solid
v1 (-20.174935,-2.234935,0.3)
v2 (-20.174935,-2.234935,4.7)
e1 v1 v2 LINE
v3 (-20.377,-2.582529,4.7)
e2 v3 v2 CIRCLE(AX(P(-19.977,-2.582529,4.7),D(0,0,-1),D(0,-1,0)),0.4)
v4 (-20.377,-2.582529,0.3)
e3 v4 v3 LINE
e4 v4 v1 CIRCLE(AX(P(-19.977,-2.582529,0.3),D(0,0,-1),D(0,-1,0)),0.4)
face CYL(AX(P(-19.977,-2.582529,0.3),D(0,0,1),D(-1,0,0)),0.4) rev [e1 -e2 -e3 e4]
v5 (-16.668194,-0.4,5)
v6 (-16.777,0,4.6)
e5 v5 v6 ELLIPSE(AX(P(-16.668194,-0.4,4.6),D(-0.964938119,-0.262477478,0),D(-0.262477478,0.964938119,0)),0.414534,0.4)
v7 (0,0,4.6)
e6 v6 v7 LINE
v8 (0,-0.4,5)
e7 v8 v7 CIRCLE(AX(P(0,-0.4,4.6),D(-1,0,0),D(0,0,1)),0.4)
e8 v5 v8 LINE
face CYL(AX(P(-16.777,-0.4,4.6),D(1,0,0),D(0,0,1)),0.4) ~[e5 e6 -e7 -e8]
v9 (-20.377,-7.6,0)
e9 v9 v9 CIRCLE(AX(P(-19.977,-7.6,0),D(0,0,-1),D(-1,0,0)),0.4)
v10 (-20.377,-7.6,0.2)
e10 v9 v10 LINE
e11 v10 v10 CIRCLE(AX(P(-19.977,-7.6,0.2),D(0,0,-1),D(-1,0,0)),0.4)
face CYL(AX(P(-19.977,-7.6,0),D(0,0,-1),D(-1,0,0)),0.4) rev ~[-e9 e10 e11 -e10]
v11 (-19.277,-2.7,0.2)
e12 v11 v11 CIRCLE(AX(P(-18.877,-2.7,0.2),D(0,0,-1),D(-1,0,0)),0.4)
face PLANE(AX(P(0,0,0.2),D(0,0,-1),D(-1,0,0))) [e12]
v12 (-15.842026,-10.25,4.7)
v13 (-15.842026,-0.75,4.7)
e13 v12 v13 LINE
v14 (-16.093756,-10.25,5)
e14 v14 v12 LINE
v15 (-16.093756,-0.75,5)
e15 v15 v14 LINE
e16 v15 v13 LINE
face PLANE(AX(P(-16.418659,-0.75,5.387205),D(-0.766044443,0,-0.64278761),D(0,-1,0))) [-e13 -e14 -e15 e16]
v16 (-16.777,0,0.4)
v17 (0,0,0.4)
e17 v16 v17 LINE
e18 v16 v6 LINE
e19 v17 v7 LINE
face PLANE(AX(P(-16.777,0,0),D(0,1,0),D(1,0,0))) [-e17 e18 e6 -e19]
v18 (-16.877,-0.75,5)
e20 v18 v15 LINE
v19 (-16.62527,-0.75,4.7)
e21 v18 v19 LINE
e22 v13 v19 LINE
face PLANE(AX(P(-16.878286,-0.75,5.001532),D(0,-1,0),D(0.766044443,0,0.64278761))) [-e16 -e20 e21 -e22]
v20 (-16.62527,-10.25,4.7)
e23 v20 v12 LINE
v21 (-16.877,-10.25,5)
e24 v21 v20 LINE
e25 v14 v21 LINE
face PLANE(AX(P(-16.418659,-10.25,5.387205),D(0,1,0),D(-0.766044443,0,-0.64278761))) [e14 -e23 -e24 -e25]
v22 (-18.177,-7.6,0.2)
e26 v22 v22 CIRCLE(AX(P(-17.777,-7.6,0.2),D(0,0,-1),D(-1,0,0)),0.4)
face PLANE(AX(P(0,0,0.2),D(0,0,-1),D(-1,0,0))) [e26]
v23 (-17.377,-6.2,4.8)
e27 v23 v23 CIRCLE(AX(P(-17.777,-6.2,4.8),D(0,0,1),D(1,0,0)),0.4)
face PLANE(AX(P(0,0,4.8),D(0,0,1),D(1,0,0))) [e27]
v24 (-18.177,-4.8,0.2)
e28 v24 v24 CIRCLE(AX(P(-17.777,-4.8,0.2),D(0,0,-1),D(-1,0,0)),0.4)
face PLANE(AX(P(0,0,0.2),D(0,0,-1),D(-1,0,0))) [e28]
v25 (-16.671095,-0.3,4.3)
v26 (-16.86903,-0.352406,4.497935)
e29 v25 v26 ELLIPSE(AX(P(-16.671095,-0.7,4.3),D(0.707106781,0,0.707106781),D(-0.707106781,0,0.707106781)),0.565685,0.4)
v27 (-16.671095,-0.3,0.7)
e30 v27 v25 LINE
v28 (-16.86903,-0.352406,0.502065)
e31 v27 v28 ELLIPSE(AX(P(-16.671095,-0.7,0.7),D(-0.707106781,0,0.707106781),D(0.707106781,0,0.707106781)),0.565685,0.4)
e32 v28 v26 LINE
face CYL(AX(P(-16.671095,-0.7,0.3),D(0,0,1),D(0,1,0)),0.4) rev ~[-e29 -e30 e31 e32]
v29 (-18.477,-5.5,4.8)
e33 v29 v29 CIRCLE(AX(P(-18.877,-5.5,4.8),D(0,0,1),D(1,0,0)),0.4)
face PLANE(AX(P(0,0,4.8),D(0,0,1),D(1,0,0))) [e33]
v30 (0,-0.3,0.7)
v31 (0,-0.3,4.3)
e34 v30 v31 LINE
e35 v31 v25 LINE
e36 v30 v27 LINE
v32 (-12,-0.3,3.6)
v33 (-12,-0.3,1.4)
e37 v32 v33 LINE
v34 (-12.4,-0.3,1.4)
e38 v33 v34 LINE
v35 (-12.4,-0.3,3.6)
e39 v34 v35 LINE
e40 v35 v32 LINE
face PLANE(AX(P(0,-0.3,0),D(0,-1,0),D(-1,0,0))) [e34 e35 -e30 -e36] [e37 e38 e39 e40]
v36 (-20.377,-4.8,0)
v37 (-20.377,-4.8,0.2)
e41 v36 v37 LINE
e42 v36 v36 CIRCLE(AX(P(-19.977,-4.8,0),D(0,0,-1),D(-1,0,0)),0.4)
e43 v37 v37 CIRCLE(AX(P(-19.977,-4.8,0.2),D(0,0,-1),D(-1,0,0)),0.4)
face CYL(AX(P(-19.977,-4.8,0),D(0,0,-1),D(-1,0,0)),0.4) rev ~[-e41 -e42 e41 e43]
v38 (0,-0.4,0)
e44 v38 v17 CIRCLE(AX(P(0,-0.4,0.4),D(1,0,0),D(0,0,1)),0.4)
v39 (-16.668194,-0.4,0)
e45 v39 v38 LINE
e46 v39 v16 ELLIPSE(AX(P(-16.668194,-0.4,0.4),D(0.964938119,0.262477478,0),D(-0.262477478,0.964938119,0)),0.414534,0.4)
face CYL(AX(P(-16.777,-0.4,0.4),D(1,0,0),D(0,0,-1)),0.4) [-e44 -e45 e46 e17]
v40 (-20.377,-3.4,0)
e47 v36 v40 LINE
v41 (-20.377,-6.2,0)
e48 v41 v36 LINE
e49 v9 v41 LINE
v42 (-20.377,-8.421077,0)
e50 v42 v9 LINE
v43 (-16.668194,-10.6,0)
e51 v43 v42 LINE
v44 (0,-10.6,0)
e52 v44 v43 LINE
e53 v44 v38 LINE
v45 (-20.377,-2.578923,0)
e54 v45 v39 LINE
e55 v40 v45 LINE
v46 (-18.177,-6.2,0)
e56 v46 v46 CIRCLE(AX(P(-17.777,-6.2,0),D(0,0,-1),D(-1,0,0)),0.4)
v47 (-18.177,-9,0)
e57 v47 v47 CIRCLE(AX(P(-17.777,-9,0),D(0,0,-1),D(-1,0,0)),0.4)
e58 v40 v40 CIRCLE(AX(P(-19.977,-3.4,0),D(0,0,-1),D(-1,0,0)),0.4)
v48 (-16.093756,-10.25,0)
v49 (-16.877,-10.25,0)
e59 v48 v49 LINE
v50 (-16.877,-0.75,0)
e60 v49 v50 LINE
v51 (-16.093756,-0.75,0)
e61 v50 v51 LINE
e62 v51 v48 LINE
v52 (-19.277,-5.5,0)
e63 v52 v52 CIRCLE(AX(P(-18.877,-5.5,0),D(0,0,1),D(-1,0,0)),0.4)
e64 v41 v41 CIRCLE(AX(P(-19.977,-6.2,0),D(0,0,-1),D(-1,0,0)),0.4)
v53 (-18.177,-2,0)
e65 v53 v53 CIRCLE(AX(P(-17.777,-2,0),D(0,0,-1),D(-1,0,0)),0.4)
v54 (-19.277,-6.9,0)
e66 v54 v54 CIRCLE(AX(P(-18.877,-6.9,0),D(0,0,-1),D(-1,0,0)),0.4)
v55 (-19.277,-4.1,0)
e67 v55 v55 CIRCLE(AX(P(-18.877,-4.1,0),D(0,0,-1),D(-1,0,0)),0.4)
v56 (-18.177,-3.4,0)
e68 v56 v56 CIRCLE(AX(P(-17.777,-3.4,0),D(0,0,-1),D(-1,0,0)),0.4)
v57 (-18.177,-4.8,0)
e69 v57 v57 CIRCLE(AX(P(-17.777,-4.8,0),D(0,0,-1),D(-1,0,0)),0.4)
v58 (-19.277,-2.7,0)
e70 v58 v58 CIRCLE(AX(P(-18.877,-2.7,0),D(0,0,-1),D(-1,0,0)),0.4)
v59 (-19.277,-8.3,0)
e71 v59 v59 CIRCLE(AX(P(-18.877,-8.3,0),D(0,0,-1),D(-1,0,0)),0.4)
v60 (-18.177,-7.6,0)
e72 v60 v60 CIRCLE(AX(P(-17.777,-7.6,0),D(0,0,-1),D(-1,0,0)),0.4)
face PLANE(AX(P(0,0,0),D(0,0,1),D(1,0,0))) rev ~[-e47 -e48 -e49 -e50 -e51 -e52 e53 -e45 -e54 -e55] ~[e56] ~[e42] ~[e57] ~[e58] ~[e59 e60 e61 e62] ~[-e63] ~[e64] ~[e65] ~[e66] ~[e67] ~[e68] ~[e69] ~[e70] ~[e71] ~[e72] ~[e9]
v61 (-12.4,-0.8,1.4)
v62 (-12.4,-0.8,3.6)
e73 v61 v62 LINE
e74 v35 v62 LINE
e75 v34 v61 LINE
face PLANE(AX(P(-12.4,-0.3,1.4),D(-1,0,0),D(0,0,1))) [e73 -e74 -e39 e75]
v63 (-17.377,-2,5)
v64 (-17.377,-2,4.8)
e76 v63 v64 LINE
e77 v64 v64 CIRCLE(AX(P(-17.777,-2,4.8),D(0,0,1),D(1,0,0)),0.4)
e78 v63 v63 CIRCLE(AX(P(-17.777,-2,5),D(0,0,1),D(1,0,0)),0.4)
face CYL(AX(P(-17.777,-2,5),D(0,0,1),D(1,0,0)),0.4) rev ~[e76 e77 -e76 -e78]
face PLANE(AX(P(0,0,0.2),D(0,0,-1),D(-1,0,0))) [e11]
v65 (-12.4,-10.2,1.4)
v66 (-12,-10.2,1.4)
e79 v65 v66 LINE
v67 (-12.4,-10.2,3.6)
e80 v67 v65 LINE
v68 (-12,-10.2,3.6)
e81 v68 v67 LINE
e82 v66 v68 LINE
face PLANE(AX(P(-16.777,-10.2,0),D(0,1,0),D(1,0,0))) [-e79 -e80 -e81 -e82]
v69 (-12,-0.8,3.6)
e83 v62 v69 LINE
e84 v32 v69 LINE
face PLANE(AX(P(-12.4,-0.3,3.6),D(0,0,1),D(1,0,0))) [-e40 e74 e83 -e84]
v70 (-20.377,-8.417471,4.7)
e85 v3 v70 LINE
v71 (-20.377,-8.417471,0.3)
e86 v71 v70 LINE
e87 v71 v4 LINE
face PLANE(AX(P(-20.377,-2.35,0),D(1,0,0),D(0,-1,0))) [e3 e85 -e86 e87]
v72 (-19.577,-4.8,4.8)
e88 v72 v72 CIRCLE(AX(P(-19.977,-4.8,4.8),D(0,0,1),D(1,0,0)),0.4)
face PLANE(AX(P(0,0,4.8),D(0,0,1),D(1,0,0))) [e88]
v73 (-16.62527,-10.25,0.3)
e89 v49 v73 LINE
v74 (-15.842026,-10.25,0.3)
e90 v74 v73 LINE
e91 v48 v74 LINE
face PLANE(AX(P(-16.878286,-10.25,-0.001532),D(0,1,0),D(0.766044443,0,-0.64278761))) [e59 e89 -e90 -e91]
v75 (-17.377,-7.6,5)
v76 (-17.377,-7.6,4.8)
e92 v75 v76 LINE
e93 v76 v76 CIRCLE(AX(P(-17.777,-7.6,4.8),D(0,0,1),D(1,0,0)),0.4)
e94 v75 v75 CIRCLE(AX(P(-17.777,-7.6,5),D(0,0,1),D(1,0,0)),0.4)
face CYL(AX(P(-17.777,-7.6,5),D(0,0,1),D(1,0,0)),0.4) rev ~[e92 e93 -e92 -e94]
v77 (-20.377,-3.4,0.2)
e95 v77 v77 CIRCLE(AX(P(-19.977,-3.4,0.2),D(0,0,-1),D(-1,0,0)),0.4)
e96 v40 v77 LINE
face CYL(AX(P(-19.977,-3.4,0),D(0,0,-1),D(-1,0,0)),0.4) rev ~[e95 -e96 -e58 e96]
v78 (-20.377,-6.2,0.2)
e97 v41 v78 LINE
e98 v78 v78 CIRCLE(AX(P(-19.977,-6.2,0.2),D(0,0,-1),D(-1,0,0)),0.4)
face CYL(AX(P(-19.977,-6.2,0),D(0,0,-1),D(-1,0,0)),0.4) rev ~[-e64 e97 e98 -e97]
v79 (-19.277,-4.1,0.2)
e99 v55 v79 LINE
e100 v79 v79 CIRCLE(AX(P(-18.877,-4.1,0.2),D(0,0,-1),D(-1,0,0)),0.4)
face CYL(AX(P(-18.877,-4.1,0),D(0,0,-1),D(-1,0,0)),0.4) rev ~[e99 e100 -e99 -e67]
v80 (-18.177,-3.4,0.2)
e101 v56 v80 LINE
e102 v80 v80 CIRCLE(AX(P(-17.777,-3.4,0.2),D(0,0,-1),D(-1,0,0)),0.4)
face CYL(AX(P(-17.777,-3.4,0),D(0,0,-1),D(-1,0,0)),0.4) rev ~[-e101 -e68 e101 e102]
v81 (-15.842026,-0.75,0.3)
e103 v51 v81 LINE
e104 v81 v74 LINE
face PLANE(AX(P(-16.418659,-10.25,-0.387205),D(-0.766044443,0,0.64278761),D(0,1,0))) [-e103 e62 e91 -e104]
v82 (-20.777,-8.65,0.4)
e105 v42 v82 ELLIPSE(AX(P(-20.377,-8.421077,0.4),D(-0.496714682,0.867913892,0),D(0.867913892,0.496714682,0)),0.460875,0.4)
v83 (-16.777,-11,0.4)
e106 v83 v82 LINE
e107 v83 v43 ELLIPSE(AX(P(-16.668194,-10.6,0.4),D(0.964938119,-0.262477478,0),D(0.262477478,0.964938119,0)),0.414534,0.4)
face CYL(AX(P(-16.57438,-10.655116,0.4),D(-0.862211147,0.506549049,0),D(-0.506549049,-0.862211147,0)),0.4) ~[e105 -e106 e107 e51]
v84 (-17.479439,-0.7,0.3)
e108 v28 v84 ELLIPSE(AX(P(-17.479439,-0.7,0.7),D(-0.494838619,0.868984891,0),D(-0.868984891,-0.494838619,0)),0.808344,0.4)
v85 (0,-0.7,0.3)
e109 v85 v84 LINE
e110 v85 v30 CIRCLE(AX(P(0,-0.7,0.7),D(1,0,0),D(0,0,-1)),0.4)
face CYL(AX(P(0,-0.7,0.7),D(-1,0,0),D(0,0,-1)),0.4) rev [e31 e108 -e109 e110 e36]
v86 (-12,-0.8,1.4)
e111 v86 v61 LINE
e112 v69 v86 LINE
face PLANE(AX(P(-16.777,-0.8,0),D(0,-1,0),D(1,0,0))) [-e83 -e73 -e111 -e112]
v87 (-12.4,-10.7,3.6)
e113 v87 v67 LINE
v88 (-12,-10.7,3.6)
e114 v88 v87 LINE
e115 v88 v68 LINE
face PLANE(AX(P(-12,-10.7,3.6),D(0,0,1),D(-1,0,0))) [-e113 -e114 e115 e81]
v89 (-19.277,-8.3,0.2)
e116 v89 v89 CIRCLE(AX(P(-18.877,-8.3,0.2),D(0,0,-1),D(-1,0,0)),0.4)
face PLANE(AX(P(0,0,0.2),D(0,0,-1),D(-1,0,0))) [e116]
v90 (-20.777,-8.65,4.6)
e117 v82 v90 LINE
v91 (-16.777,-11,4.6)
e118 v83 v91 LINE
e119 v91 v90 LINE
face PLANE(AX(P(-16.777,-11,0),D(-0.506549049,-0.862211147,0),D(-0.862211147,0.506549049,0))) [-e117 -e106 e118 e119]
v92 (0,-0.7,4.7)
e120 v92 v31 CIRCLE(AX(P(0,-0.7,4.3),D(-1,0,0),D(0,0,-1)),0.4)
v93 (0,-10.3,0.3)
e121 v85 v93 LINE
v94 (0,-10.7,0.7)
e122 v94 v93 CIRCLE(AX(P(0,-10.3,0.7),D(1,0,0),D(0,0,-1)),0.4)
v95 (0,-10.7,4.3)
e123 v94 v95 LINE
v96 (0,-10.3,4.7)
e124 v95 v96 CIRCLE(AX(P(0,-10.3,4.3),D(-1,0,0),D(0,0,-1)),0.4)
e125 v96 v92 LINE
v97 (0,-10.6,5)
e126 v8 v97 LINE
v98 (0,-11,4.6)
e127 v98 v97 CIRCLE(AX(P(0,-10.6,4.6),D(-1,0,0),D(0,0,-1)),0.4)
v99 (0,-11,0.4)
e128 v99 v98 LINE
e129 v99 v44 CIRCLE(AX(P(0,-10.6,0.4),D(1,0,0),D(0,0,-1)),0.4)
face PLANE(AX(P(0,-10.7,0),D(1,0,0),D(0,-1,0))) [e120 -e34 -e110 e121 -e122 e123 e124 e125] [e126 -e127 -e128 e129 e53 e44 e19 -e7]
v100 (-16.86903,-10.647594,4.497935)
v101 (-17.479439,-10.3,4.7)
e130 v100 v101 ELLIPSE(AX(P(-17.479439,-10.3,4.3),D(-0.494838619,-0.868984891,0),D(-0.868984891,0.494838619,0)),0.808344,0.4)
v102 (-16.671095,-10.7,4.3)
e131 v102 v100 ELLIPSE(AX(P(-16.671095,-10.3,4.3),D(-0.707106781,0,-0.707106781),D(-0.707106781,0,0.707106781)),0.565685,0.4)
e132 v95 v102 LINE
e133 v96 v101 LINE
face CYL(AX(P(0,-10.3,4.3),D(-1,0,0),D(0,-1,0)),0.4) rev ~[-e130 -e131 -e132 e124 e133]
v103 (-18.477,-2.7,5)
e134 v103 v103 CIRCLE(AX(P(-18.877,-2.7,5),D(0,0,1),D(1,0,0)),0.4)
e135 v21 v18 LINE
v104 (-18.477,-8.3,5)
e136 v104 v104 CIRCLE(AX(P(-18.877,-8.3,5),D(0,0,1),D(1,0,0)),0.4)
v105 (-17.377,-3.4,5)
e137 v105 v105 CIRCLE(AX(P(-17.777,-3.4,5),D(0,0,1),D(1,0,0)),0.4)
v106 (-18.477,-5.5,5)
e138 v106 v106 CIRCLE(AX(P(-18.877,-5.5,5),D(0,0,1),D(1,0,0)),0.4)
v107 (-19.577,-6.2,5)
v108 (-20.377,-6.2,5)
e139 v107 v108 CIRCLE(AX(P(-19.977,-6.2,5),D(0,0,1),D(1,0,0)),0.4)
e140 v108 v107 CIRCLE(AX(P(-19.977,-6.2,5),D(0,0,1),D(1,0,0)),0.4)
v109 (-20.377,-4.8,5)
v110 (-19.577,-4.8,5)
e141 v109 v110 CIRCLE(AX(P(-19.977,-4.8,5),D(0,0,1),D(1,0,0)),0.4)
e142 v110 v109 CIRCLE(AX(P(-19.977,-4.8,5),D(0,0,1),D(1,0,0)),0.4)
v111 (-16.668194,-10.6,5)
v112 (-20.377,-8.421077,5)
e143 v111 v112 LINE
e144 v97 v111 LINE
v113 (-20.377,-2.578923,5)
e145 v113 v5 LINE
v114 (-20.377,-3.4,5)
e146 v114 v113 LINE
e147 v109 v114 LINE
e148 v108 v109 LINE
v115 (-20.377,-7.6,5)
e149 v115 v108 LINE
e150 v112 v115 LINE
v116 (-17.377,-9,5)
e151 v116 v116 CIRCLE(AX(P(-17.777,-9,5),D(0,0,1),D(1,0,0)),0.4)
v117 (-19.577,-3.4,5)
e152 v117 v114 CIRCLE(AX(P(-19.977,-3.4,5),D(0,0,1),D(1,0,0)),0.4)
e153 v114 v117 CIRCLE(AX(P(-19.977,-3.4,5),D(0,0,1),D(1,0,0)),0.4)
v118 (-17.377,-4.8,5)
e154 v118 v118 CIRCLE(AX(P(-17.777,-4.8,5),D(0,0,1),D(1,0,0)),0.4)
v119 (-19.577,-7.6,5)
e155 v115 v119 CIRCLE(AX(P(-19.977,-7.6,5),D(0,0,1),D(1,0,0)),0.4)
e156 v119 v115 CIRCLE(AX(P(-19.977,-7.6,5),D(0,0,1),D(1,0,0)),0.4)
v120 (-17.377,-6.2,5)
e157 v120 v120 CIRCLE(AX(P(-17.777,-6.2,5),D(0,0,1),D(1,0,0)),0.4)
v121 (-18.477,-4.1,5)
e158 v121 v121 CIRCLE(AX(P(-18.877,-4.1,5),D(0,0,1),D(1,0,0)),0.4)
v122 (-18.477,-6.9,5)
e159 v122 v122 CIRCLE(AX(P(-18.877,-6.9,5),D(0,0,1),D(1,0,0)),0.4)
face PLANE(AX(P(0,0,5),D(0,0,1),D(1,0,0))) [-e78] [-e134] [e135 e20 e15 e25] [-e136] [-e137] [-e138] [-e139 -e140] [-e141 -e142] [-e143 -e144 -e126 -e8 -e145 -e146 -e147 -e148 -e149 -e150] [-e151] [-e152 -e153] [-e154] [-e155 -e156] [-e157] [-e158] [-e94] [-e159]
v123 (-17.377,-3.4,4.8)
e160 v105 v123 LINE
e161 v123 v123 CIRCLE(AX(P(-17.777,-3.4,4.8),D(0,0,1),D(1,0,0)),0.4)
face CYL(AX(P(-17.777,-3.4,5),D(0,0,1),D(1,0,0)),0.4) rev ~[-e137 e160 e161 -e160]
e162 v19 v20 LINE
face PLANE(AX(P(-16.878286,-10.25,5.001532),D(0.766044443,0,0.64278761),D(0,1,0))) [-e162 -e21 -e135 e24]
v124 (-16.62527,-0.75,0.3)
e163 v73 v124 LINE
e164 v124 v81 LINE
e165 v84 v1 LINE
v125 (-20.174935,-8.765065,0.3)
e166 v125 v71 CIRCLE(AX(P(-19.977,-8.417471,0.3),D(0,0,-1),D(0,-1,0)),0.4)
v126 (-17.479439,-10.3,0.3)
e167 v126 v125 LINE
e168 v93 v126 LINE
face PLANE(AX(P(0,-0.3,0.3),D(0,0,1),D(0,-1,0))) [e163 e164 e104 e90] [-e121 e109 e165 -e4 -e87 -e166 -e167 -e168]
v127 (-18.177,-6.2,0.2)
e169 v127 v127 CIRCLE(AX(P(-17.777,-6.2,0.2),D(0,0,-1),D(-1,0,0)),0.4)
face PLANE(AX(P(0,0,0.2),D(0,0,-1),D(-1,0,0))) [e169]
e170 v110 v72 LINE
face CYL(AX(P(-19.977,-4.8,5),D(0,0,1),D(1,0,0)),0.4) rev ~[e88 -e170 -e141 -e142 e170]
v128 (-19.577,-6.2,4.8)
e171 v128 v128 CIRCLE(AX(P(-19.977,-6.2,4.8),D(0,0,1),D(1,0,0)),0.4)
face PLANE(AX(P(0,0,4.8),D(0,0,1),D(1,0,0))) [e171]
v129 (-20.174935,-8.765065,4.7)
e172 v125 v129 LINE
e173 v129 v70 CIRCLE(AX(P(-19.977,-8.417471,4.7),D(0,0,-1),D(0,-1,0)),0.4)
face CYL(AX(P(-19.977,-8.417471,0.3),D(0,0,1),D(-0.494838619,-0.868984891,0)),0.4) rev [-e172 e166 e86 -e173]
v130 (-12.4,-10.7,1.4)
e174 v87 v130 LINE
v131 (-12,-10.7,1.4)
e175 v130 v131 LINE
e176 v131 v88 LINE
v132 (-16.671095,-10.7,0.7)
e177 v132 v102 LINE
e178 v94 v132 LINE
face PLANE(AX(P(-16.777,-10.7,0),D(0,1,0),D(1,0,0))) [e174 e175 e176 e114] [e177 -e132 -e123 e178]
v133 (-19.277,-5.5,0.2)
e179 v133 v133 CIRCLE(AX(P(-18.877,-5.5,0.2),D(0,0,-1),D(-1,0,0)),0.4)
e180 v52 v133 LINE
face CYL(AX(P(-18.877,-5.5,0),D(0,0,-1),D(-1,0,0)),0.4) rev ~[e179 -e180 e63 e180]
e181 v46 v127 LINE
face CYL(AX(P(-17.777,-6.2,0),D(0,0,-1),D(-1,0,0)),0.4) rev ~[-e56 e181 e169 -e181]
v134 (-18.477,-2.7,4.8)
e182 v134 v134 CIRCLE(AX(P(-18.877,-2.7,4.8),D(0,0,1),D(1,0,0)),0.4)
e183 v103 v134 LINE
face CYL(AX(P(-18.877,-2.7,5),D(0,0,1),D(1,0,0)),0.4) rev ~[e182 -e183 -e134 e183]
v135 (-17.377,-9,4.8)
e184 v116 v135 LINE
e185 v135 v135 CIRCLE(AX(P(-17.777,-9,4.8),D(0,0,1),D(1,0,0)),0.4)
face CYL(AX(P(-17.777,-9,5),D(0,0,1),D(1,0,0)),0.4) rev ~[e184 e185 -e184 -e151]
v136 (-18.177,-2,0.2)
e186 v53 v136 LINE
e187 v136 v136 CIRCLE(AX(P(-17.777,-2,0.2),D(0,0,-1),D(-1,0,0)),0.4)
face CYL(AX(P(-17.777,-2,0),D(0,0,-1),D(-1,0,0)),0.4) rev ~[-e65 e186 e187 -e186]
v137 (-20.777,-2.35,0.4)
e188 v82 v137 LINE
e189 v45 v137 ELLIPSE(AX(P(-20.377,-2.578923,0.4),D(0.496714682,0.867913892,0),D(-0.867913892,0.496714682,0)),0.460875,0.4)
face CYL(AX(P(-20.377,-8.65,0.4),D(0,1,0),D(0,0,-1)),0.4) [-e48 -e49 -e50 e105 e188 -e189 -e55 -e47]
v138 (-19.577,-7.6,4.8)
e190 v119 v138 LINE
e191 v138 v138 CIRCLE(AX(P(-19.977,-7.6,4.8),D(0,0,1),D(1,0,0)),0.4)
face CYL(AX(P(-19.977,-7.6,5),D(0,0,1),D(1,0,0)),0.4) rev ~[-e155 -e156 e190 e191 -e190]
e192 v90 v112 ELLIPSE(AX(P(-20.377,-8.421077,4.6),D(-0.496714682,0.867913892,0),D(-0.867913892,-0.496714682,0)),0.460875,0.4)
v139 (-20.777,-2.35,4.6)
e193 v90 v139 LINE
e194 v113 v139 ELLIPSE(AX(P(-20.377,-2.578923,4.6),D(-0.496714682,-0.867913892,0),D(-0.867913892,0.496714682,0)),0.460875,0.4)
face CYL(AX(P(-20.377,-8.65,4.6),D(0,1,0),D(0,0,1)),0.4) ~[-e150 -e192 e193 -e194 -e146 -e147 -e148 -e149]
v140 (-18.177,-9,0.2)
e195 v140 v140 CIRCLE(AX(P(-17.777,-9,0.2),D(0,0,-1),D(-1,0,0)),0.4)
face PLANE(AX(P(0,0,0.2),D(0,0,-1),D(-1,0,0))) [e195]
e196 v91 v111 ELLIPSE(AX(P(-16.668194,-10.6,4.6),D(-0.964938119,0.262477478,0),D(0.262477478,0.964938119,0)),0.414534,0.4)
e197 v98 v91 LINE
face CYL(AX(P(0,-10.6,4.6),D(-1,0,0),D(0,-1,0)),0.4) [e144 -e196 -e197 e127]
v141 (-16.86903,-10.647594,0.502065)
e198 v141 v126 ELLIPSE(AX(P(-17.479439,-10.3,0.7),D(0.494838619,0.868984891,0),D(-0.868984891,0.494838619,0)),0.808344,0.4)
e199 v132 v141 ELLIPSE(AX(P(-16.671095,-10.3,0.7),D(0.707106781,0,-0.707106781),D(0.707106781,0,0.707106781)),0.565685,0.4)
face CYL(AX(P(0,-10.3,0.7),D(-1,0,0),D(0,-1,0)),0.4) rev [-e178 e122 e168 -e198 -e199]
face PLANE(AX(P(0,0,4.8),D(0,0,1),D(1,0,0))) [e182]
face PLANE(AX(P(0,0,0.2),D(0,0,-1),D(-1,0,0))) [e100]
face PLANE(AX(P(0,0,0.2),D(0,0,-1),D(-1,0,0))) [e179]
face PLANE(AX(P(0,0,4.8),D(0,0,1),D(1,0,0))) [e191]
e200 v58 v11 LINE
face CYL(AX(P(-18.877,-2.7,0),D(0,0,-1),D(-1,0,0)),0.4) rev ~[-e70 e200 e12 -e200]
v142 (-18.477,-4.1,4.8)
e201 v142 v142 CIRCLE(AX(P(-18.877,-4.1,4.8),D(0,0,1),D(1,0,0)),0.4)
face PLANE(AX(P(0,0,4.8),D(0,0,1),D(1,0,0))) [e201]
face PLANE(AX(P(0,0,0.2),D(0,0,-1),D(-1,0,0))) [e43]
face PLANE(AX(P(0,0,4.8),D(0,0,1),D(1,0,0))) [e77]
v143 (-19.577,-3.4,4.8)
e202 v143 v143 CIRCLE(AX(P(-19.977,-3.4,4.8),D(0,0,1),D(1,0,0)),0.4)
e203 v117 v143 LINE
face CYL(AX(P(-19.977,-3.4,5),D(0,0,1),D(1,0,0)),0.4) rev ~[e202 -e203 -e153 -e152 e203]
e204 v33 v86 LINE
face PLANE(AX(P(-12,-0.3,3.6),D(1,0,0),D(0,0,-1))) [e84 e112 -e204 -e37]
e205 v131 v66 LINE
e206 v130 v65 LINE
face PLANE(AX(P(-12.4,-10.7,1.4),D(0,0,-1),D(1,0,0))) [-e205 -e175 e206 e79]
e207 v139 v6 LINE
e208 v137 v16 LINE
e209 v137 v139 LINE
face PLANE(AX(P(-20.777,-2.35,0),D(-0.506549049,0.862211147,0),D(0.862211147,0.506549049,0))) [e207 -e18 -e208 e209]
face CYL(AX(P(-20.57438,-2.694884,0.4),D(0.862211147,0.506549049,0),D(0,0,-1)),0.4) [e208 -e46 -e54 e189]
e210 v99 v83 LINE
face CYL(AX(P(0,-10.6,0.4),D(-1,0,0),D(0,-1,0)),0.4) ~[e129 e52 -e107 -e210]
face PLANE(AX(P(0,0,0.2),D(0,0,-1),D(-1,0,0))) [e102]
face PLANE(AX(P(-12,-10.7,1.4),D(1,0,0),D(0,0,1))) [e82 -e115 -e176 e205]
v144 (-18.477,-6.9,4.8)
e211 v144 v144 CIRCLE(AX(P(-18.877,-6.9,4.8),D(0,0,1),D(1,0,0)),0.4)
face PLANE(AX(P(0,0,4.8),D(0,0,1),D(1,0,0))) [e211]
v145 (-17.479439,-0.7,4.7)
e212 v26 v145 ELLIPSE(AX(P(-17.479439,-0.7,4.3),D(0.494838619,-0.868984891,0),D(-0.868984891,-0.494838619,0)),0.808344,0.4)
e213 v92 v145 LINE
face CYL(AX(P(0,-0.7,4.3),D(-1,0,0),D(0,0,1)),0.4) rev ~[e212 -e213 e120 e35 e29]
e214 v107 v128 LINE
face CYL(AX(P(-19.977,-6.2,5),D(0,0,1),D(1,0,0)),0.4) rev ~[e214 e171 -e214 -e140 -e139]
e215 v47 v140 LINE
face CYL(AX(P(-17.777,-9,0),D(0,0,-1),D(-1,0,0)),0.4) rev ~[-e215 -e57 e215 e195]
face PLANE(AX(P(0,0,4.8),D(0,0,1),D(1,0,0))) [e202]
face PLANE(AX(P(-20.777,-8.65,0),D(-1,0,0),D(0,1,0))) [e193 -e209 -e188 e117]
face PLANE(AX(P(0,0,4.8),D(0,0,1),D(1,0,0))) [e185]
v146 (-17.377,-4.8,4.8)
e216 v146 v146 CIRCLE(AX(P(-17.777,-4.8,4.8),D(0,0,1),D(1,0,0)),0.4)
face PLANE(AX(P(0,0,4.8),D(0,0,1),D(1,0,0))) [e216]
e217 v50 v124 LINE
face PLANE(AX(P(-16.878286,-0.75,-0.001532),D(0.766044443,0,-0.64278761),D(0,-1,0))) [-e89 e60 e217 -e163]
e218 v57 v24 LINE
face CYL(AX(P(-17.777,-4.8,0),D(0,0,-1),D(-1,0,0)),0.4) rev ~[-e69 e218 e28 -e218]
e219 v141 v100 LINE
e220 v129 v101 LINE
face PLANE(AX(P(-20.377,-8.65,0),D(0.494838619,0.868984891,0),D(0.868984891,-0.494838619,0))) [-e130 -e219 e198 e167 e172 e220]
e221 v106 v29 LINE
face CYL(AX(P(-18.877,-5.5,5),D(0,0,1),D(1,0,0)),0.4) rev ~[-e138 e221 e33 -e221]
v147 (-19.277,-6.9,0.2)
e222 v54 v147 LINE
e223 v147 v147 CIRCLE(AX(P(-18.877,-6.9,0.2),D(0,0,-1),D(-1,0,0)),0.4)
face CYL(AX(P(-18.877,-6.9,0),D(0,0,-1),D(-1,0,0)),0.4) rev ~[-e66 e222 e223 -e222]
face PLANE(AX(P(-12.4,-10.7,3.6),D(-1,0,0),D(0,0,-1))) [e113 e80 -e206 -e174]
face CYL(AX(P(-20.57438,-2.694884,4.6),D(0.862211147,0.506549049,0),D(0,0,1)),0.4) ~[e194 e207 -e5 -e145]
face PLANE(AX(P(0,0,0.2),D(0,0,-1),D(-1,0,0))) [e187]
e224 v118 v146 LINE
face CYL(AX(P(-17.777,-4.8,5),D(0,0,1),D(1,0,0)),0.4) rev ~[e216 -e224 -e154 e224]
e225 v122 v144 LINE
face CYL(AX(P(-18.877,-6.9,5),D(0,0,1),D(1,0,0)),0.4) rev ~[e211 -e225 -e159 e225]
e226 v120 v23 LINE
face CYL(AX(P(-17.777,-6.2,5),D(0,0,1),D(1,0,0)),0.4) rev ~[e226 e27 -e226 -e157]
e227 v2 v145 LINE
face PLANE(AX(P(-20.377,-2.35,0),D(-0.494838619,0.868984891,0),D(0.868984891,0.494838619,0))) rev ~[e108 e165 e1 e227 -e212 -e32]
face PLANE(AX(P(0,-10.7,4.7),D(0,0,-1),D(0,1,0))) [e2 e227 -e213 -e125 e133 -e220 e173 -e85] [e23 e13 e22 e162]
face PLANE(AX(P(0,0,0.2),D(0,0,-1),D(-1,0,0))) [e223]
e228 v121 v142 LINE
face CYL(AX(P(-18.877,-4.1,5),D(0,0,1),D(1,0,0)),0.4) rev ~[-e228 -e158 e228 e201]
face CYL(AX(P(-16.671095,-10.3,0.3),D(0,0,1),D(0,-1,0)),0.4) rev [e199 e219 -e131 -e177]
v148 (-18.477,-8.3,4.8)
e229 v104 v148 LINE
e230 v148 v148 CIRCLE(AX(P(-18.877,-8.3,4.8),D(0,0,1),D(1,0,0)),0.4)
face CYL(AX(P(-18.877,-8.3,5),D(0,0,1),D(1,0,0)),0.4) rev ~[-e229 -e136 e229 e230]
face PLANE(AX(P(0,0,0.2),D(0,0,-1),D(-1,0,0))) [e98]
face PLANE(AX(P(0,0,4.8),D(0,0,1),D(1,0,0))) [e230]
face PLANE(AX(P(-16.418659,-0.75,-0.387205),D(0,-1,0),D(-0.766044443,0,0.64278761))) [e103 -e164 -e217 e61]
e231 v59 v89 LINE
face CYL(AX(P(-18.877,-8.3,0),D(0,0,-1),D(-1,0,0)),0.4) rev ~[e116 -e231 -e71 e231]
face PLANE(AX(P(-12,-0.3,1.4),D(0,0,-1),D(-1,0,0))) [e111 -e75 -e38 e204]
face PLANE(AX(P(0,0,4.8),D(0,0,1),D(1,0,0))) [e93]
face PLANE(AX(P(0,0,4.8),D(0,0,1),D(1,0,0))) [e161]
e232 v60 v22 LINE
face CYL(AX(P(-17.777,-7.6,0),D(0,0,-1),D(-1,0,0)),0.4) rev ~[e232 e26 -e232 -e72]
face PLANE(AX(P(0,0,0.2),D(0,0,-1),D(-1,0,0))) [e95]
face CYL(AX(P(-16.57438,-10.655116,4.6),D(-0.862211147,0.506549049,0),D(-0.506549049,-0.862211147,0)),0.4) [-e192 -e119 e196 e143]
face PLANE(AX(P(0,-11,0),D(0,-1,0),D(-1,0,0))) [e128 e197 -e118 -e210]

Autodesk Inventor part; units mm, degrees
ref_plane "YZ Plane" through (0, 0, 0) normal (1, 0, 0) x (0, 1, 0)
sketch "Sketch1" plane through (0, 0, 0) normal (0, 0, 1) x (1, 0, 0)
  line L0 (0, -11) -> (-16.777, -11)
  line L1 (-16.777, -11) -> (-16.777, -10.7)
  line L2 (-16.777, -10.7) -> (0, -10.7)
  line L3 (0, -10.7) -> (0, -11)
  line L4 (0, -0.3) -> (-16.777, -0.3)
  line L5 (-16.777, -0.3) -> (-16.777, 0)
  line L6 (-16.777, 0) -> (0, 0)
  line L7 (0, 0) -> (0, -0.3)
  line L8 (-20.377, -8.65) -> (-20.777, -8.65)
  line L9 (-20.777, -8.65) -> (-20.777, -2.35)
  line L10 (-20.777, -2.35) -> (-20.377, -2.35)
  line L11 (-20.377, -2.35) -> (-20.377, -8.65)
  line L12 (-20.377, -8.65) -> (-16.777, -10.7)
  line L13 (-16.777, -11) -> (-20.777, -8.65)
  line L14 (-20.777, -2.35) -> (-16.777, 0)
  line L15 (-20.377, -2.35) -> (-16.777, -0.3)
  dimension "d0" = 0.3
  dimension "d2" = 10.4
  dimension "d3" = 0.4
  dimension "d4" = 4
  dimension "d21" = 20.777
  dimension "d22" = 6.3
extrude "Extrusion1" add sketch "Sketch1" along normal blind 5
sketch "Sketch2" plane through (-16.777, -10.7, 0) normal (0, 1, 0) x (1, 0, 0)
  line L0 (4.777, -3.6) -> (4.377, -3.6)
  line L1 (4.377, -3.6) -> (4.377, -1.4)
  line L2 (4.377, -1.4) -> (4.777, -1.4)
  line L3 (4.777, -1.4) -> (4.777, -3.6)
  line L4 (4.777, -3.6) -> (4.777, -5) construction
  line L5 (16.777, -5) -> (0, -5) construction
  line L6 (4.777, -1.4) -> (4.777, 0) construction
  line L7 (16.777, 0) -> (0, 0) construction
  line L8 (16.777, 0) -> (16.777, -5) construction
  dimension "d9" = 0.4
  dimension "d10" = 1.4
  dimension "d11" = 12
extrude "Extrusion2" add sketch "Sketch2" along normal blind 0.5
sketch "Sketch3" plane through (-16.777, -0.3, 0) normal (0, -1, 0) x (1, 0, 0)
  line L0 (4.777, 1.4) -> (4.377, 1.4) projected
  line L1 (4.377, 1.4) -> (4.377, 3.6) projected
  line L2 (4.377, 3.6) -> (4.777, 3.6) projected
  line L3 (4.777, 3.6) -> (4.777, 1.4) projected
  point P0 (16.777, 0)
extrude "Extrusion3" add sketch "Sketch3" along normal blind 0.5
sketch "Sketch4" plane through (0, -0.3, 0) normal (1, 0, 0) x (0, 0, -1)
  line L0 (0, -10.4) -> (-5, -10.4) projected
  line L1 (0, 0) -> (-5, 0) projected
  line L2 (-5, -10.4) -> (-4.7, -10.4)
  line L3 (-4.7, -10.4) -> (-4.7, 0)
  line L4 (-4.7, 0) -> (-5, 0)
  line L5 (-5, 0) -> (-5, -10.4)
  line L6 (0, 0) -> (-0.3, 0)
  line L7 (-0.3, 0) -> (-0.3, -10.4)
  line L8 (-0.3, -10.4) -> (0, -10.4)
  line L9 (0, -10.4) -> (0, 0)
  point P0 (0, 0.3)
  point P1 (-0.3, 0)
  dimension "d16" = 0.3
  dimension "d17" = 0.3
extrude "Extrusion4" add sketch "Sketch4" against normal up to next contours L0 L7 L1 L9 | L0 L5 L1 L3
fillet "Fillet1" radius 0.4 18 edges at (-20.777, -5.5, 0) (-18.777, -9.825, 0) (-18.777, -9.825, 5) (-20.777, -5.5, 5) (-18.777, -1.175, 0) (-18.777, -1.175, 5) (-8.3885, 0, 5) (-8.3885, 0, 0) (-8.3885, -11, 5) (-8.3885, -11, 0) (-8.3885, -10.7, 0.3) (-16.777, -10.7, 2.5) (-20.377, -8.65, 2.5) (-20.377, -2.35, 2.5) (-16.777, -0.3, 2.5) (-8.3885, -0.3, 0.3) (-8.3885, -0.3, 4.7) (-8.3885, -10.7, 4.7)
sketch "Sketch5" plane through (0, 0, 5) normal (0, 0, 1) x (1, 0, 0)
  line L0 (0, -0.4) -> (-16.6682, -0.4) projected
  line L1 (-16.877, -0.4) -> (-16.877, -10.7)
  line L2 (-16.6711, -10.7) -> (0, -10.7) projected
  line L3 (-20.377, -8.4211) -> (-20.377, -2.5789) projected
  point P0 (0, 0)
  dimension "d23" = 3.5
ref_plane "Work Plane1" through (-16.877, -0.4, 5) normal (-0.6428, 0, 0.766) x (0, -1, 0)
sketch "Sketch6" plane through (0, 0, 0) normal (0, 0, -1) x (-1, 0, 0)
  line L0 (16.877, -0.4) -> (16.877, -10.7) projected
  point P0 (0, 0)
ref_plane "Work Plane2" through (-16.877, -0.4, 0) normal (-0.6428, 0, -0.766) x (0, -1, 0)
sketch "Sketch7" plane through (-16.877, -0.4, 5) normal (-0.6428, 0, 0.766) x (0, -1, 0)
  line L0 (0.35, 0.6) -> (9.85, 0.6)
  line L1 (9.85, 0.6) -> (9.85, 0)
  line L2 (9.85, 0) -> (0.35, 0)
  line L3 (0.35, 0) -> (0.35, 0.6)
  line L4 (0, 0) -> (10.3, 0) projected
  line L5 (-0.4, 12.6714) -> (-0.4, -0.1805) construction
  line L6 (10.6, -0.1805) -> (10.6, 12.6714) construction
  line L7 (0.35, 0.6) -> (-0.4, 0.6) construction
  line L8 (9.85, 0.6) -> (10.6, 0.6) construction
  point P0 (-0.4, 9.7146)
  dimension "d26" = 9.5
  dimension "d27" = 0.6
extrude "Extrusion5" cut sketch "Sketch7" against normal blind 3
sketch "Sketch8" plane through (-16.877, -0.4, 0) normal (-0.6428, 0, -0.766) x (0, -1, 0)
  line L0 (9.85, -0.6) -> (0.35, -0.6)
  line L1 (0.35, -0.6) -> (0.35, 0)
  line L2 (0.35, 0) -> (9.85, 0)
  line L3 (9.85, 0) -> (9.85, -0.6)
  line L4 (0, 0) -> (10.3, 0) projected
  line L5 (0.35, 3.2139) -> (0.35, 2.6139) projected
  line L6 (9.85, 2.6139) -> (9.85, 3.2139) projected
  line L7 (10.6, -12.6714) -> (10.6, 0.1805) projected
  line L8 (-0.4, 0.1805) -> (-0.4, -12.6714) projected
  line L9 (0.35, -0.6) -> (-0.4, -0.6) construction
  line L10 (9.85, -0.6) -> (10.6, -0.6) construction
  point P0 (-0.4, -12.9285)
  dimension "d30" = 9.5
  dimension "d31" = 0.6
extrude "Extrusion6" cut sketch "Sketch8" against normal blind 3
sketch "Sketch9" plane through (0, 0, 0) normal (0, 0, -1) x (-1, 0, 0)
  circle A0 centre (19.977, -7.6) radius 0.4
  line L0 (19.977, -2.1106) -> (19.977, -5.2) construction
  line L1 (20.777, -8.65) -> (20.777, -2.35) projected
  circle A1 centre (19.977, -6.2) radius 0.4
  circle A2 centre (19.977, -4.8) radius 0.4
  circle A3 centre (19.977, -3.4) radius 0.4
  circle A4 centre (17.777, -7.6) radius 0.4
  line L2 (17.777, -0.9242) -> (17.777, -5.2) construction
  circle A5 centre (17.777, -6.2) radius 0.4
  circle A6 centre (17.777, -4.8) radius 0.4
  circle A7 centre (17.777, -3.4) radius 0.4
  circle A8 centre (17.777, -9) radius 0.4
  circle A9 centre (17.777, -2) radius 0.4
  line L3 (19.977, -8) -> (19.977, -8.65) construction
  line L4 (20.777, -2.35) -> (16.777, 0) projected
  line L5 (20.777, -2.35) -> (20.777, -8.65)
  line L6 (20.777, -5.5) -> (17.4188, -5.5)
  line L7 (19.977, -5.5) -> (19.977, -5.8) construction
  line L8 (19.977, -5.8) -> (19.977, -8) construction
  line L9 (19.977, -5.2) -> (19.977, -5.5) construction
  line L10 (17.777, -5.8) -> (17.777, -10.129) construction
  line L11 (17.777, -5.5) -> (17.777, -5.8) construction
  line L12 (17.777, -5.2) -> (17.777, -5.5) construction
  line L13 (18.877, -9.1995) -> (18.877, -2.1819) construction
  circle A10 centre (18.877, -6.9) radius 0.4
  circle A11 centre (18.877, -5.5) radius 0.4
  circle A12 centre (18.877, -4.1) radius 0.4
  circle A13 centre (18.877, -2.7) radius 0.4
  circle A14 centre (18.877, -8.3) radius 0.4
  point P0 (0, 0)
  dimension "d35" = 0.8
  dimension "d34" = 0.8
  dimension "d36" = 1.4
  dimension "d37" = 1.4
  dimension "d38" = 1.4
  dimension "d39" = 0.8
  dimension "d40" = 1.4
  dimension "d41" = 1.4
  dimension "d42" = 1.4
  dimension "d43" = 1.4
  dimension "d44" = 1.4
  dimension "d45" = 6.3
  dimension "d46" = 3.15
  dimension "d47" = 1.4
  dimension "d48" = 1.4
  dimension "d49" = 1.4
  dimension "d51" = 1.4
  dimension "d52" = 1.1
  dimension "d53" = 1.1
extrude "Extrusion7" cut sketch "Sketch9" against normal blind 0.2
sketch "Sketch10" plane through (0, 0, 5) normal (0, 0, 1) x (1, 0, 0)
  circle A0 centre (-17.777, -9) radius 0.4 projected
  circle A1 centre (-17.777, -7.6) radius 0.4 projected
  circle A2 centre (-17.777, -6.2) radius 0.4 projected
  circle A3 centre (-17.777, -4.8) radius 0.4 projected
  circle A4 centre (-17.777, -3.4) radius 0.4 projected
  circle A5 centre (-17.777, -2) radius 0.4 projected
  circle A6 centre (-18.877, -2.7) radius 0.4 projected
  circle A7 centre (-18.877, -4.1) radius 0.4 projected
  circle A8 centre (-18.877, -5.5) radius 0.4 projected
  circle A9 centre (-18.877, -6.9) radius 0.4 projected
  circle A10 centre (-18.877, -8.3) radius 0.4 projected
  circle A11 centre (-19.977, -7.6) radius 0.4 projected
  circle A12 centre (-19.977, -6.2) radius 0.4 projected
  circle A13 centre (-19.977, -4.8) radius 0.4 projected
  circle A14 centre (-19.977, -3.4) radius 0.4 projected
  point P0 (0, 0)
  point P1 (-20.377, -7.6)
  point P2 (-20.377, -6.2)
  point P3 (-20.377, -4.8)
  point P4 (-20.377, -3.4)
extrude "Extrusion8" cut sketch "Sketch10" against normal blind 0.2
equation "\"d17\" = d16"
equation "\"d37\" = d36"
equation "\"d38\" = d36"
equation "\"d40\" = d36"
equation "\"d41\" = d40"
equation "\"d42\" = d40"
equation "\"d43\" = d36"
equation "\"d44\" = d36"
equation "\"d46\" = 0.5 * d45"
properties part number "np2_headstage_box"
